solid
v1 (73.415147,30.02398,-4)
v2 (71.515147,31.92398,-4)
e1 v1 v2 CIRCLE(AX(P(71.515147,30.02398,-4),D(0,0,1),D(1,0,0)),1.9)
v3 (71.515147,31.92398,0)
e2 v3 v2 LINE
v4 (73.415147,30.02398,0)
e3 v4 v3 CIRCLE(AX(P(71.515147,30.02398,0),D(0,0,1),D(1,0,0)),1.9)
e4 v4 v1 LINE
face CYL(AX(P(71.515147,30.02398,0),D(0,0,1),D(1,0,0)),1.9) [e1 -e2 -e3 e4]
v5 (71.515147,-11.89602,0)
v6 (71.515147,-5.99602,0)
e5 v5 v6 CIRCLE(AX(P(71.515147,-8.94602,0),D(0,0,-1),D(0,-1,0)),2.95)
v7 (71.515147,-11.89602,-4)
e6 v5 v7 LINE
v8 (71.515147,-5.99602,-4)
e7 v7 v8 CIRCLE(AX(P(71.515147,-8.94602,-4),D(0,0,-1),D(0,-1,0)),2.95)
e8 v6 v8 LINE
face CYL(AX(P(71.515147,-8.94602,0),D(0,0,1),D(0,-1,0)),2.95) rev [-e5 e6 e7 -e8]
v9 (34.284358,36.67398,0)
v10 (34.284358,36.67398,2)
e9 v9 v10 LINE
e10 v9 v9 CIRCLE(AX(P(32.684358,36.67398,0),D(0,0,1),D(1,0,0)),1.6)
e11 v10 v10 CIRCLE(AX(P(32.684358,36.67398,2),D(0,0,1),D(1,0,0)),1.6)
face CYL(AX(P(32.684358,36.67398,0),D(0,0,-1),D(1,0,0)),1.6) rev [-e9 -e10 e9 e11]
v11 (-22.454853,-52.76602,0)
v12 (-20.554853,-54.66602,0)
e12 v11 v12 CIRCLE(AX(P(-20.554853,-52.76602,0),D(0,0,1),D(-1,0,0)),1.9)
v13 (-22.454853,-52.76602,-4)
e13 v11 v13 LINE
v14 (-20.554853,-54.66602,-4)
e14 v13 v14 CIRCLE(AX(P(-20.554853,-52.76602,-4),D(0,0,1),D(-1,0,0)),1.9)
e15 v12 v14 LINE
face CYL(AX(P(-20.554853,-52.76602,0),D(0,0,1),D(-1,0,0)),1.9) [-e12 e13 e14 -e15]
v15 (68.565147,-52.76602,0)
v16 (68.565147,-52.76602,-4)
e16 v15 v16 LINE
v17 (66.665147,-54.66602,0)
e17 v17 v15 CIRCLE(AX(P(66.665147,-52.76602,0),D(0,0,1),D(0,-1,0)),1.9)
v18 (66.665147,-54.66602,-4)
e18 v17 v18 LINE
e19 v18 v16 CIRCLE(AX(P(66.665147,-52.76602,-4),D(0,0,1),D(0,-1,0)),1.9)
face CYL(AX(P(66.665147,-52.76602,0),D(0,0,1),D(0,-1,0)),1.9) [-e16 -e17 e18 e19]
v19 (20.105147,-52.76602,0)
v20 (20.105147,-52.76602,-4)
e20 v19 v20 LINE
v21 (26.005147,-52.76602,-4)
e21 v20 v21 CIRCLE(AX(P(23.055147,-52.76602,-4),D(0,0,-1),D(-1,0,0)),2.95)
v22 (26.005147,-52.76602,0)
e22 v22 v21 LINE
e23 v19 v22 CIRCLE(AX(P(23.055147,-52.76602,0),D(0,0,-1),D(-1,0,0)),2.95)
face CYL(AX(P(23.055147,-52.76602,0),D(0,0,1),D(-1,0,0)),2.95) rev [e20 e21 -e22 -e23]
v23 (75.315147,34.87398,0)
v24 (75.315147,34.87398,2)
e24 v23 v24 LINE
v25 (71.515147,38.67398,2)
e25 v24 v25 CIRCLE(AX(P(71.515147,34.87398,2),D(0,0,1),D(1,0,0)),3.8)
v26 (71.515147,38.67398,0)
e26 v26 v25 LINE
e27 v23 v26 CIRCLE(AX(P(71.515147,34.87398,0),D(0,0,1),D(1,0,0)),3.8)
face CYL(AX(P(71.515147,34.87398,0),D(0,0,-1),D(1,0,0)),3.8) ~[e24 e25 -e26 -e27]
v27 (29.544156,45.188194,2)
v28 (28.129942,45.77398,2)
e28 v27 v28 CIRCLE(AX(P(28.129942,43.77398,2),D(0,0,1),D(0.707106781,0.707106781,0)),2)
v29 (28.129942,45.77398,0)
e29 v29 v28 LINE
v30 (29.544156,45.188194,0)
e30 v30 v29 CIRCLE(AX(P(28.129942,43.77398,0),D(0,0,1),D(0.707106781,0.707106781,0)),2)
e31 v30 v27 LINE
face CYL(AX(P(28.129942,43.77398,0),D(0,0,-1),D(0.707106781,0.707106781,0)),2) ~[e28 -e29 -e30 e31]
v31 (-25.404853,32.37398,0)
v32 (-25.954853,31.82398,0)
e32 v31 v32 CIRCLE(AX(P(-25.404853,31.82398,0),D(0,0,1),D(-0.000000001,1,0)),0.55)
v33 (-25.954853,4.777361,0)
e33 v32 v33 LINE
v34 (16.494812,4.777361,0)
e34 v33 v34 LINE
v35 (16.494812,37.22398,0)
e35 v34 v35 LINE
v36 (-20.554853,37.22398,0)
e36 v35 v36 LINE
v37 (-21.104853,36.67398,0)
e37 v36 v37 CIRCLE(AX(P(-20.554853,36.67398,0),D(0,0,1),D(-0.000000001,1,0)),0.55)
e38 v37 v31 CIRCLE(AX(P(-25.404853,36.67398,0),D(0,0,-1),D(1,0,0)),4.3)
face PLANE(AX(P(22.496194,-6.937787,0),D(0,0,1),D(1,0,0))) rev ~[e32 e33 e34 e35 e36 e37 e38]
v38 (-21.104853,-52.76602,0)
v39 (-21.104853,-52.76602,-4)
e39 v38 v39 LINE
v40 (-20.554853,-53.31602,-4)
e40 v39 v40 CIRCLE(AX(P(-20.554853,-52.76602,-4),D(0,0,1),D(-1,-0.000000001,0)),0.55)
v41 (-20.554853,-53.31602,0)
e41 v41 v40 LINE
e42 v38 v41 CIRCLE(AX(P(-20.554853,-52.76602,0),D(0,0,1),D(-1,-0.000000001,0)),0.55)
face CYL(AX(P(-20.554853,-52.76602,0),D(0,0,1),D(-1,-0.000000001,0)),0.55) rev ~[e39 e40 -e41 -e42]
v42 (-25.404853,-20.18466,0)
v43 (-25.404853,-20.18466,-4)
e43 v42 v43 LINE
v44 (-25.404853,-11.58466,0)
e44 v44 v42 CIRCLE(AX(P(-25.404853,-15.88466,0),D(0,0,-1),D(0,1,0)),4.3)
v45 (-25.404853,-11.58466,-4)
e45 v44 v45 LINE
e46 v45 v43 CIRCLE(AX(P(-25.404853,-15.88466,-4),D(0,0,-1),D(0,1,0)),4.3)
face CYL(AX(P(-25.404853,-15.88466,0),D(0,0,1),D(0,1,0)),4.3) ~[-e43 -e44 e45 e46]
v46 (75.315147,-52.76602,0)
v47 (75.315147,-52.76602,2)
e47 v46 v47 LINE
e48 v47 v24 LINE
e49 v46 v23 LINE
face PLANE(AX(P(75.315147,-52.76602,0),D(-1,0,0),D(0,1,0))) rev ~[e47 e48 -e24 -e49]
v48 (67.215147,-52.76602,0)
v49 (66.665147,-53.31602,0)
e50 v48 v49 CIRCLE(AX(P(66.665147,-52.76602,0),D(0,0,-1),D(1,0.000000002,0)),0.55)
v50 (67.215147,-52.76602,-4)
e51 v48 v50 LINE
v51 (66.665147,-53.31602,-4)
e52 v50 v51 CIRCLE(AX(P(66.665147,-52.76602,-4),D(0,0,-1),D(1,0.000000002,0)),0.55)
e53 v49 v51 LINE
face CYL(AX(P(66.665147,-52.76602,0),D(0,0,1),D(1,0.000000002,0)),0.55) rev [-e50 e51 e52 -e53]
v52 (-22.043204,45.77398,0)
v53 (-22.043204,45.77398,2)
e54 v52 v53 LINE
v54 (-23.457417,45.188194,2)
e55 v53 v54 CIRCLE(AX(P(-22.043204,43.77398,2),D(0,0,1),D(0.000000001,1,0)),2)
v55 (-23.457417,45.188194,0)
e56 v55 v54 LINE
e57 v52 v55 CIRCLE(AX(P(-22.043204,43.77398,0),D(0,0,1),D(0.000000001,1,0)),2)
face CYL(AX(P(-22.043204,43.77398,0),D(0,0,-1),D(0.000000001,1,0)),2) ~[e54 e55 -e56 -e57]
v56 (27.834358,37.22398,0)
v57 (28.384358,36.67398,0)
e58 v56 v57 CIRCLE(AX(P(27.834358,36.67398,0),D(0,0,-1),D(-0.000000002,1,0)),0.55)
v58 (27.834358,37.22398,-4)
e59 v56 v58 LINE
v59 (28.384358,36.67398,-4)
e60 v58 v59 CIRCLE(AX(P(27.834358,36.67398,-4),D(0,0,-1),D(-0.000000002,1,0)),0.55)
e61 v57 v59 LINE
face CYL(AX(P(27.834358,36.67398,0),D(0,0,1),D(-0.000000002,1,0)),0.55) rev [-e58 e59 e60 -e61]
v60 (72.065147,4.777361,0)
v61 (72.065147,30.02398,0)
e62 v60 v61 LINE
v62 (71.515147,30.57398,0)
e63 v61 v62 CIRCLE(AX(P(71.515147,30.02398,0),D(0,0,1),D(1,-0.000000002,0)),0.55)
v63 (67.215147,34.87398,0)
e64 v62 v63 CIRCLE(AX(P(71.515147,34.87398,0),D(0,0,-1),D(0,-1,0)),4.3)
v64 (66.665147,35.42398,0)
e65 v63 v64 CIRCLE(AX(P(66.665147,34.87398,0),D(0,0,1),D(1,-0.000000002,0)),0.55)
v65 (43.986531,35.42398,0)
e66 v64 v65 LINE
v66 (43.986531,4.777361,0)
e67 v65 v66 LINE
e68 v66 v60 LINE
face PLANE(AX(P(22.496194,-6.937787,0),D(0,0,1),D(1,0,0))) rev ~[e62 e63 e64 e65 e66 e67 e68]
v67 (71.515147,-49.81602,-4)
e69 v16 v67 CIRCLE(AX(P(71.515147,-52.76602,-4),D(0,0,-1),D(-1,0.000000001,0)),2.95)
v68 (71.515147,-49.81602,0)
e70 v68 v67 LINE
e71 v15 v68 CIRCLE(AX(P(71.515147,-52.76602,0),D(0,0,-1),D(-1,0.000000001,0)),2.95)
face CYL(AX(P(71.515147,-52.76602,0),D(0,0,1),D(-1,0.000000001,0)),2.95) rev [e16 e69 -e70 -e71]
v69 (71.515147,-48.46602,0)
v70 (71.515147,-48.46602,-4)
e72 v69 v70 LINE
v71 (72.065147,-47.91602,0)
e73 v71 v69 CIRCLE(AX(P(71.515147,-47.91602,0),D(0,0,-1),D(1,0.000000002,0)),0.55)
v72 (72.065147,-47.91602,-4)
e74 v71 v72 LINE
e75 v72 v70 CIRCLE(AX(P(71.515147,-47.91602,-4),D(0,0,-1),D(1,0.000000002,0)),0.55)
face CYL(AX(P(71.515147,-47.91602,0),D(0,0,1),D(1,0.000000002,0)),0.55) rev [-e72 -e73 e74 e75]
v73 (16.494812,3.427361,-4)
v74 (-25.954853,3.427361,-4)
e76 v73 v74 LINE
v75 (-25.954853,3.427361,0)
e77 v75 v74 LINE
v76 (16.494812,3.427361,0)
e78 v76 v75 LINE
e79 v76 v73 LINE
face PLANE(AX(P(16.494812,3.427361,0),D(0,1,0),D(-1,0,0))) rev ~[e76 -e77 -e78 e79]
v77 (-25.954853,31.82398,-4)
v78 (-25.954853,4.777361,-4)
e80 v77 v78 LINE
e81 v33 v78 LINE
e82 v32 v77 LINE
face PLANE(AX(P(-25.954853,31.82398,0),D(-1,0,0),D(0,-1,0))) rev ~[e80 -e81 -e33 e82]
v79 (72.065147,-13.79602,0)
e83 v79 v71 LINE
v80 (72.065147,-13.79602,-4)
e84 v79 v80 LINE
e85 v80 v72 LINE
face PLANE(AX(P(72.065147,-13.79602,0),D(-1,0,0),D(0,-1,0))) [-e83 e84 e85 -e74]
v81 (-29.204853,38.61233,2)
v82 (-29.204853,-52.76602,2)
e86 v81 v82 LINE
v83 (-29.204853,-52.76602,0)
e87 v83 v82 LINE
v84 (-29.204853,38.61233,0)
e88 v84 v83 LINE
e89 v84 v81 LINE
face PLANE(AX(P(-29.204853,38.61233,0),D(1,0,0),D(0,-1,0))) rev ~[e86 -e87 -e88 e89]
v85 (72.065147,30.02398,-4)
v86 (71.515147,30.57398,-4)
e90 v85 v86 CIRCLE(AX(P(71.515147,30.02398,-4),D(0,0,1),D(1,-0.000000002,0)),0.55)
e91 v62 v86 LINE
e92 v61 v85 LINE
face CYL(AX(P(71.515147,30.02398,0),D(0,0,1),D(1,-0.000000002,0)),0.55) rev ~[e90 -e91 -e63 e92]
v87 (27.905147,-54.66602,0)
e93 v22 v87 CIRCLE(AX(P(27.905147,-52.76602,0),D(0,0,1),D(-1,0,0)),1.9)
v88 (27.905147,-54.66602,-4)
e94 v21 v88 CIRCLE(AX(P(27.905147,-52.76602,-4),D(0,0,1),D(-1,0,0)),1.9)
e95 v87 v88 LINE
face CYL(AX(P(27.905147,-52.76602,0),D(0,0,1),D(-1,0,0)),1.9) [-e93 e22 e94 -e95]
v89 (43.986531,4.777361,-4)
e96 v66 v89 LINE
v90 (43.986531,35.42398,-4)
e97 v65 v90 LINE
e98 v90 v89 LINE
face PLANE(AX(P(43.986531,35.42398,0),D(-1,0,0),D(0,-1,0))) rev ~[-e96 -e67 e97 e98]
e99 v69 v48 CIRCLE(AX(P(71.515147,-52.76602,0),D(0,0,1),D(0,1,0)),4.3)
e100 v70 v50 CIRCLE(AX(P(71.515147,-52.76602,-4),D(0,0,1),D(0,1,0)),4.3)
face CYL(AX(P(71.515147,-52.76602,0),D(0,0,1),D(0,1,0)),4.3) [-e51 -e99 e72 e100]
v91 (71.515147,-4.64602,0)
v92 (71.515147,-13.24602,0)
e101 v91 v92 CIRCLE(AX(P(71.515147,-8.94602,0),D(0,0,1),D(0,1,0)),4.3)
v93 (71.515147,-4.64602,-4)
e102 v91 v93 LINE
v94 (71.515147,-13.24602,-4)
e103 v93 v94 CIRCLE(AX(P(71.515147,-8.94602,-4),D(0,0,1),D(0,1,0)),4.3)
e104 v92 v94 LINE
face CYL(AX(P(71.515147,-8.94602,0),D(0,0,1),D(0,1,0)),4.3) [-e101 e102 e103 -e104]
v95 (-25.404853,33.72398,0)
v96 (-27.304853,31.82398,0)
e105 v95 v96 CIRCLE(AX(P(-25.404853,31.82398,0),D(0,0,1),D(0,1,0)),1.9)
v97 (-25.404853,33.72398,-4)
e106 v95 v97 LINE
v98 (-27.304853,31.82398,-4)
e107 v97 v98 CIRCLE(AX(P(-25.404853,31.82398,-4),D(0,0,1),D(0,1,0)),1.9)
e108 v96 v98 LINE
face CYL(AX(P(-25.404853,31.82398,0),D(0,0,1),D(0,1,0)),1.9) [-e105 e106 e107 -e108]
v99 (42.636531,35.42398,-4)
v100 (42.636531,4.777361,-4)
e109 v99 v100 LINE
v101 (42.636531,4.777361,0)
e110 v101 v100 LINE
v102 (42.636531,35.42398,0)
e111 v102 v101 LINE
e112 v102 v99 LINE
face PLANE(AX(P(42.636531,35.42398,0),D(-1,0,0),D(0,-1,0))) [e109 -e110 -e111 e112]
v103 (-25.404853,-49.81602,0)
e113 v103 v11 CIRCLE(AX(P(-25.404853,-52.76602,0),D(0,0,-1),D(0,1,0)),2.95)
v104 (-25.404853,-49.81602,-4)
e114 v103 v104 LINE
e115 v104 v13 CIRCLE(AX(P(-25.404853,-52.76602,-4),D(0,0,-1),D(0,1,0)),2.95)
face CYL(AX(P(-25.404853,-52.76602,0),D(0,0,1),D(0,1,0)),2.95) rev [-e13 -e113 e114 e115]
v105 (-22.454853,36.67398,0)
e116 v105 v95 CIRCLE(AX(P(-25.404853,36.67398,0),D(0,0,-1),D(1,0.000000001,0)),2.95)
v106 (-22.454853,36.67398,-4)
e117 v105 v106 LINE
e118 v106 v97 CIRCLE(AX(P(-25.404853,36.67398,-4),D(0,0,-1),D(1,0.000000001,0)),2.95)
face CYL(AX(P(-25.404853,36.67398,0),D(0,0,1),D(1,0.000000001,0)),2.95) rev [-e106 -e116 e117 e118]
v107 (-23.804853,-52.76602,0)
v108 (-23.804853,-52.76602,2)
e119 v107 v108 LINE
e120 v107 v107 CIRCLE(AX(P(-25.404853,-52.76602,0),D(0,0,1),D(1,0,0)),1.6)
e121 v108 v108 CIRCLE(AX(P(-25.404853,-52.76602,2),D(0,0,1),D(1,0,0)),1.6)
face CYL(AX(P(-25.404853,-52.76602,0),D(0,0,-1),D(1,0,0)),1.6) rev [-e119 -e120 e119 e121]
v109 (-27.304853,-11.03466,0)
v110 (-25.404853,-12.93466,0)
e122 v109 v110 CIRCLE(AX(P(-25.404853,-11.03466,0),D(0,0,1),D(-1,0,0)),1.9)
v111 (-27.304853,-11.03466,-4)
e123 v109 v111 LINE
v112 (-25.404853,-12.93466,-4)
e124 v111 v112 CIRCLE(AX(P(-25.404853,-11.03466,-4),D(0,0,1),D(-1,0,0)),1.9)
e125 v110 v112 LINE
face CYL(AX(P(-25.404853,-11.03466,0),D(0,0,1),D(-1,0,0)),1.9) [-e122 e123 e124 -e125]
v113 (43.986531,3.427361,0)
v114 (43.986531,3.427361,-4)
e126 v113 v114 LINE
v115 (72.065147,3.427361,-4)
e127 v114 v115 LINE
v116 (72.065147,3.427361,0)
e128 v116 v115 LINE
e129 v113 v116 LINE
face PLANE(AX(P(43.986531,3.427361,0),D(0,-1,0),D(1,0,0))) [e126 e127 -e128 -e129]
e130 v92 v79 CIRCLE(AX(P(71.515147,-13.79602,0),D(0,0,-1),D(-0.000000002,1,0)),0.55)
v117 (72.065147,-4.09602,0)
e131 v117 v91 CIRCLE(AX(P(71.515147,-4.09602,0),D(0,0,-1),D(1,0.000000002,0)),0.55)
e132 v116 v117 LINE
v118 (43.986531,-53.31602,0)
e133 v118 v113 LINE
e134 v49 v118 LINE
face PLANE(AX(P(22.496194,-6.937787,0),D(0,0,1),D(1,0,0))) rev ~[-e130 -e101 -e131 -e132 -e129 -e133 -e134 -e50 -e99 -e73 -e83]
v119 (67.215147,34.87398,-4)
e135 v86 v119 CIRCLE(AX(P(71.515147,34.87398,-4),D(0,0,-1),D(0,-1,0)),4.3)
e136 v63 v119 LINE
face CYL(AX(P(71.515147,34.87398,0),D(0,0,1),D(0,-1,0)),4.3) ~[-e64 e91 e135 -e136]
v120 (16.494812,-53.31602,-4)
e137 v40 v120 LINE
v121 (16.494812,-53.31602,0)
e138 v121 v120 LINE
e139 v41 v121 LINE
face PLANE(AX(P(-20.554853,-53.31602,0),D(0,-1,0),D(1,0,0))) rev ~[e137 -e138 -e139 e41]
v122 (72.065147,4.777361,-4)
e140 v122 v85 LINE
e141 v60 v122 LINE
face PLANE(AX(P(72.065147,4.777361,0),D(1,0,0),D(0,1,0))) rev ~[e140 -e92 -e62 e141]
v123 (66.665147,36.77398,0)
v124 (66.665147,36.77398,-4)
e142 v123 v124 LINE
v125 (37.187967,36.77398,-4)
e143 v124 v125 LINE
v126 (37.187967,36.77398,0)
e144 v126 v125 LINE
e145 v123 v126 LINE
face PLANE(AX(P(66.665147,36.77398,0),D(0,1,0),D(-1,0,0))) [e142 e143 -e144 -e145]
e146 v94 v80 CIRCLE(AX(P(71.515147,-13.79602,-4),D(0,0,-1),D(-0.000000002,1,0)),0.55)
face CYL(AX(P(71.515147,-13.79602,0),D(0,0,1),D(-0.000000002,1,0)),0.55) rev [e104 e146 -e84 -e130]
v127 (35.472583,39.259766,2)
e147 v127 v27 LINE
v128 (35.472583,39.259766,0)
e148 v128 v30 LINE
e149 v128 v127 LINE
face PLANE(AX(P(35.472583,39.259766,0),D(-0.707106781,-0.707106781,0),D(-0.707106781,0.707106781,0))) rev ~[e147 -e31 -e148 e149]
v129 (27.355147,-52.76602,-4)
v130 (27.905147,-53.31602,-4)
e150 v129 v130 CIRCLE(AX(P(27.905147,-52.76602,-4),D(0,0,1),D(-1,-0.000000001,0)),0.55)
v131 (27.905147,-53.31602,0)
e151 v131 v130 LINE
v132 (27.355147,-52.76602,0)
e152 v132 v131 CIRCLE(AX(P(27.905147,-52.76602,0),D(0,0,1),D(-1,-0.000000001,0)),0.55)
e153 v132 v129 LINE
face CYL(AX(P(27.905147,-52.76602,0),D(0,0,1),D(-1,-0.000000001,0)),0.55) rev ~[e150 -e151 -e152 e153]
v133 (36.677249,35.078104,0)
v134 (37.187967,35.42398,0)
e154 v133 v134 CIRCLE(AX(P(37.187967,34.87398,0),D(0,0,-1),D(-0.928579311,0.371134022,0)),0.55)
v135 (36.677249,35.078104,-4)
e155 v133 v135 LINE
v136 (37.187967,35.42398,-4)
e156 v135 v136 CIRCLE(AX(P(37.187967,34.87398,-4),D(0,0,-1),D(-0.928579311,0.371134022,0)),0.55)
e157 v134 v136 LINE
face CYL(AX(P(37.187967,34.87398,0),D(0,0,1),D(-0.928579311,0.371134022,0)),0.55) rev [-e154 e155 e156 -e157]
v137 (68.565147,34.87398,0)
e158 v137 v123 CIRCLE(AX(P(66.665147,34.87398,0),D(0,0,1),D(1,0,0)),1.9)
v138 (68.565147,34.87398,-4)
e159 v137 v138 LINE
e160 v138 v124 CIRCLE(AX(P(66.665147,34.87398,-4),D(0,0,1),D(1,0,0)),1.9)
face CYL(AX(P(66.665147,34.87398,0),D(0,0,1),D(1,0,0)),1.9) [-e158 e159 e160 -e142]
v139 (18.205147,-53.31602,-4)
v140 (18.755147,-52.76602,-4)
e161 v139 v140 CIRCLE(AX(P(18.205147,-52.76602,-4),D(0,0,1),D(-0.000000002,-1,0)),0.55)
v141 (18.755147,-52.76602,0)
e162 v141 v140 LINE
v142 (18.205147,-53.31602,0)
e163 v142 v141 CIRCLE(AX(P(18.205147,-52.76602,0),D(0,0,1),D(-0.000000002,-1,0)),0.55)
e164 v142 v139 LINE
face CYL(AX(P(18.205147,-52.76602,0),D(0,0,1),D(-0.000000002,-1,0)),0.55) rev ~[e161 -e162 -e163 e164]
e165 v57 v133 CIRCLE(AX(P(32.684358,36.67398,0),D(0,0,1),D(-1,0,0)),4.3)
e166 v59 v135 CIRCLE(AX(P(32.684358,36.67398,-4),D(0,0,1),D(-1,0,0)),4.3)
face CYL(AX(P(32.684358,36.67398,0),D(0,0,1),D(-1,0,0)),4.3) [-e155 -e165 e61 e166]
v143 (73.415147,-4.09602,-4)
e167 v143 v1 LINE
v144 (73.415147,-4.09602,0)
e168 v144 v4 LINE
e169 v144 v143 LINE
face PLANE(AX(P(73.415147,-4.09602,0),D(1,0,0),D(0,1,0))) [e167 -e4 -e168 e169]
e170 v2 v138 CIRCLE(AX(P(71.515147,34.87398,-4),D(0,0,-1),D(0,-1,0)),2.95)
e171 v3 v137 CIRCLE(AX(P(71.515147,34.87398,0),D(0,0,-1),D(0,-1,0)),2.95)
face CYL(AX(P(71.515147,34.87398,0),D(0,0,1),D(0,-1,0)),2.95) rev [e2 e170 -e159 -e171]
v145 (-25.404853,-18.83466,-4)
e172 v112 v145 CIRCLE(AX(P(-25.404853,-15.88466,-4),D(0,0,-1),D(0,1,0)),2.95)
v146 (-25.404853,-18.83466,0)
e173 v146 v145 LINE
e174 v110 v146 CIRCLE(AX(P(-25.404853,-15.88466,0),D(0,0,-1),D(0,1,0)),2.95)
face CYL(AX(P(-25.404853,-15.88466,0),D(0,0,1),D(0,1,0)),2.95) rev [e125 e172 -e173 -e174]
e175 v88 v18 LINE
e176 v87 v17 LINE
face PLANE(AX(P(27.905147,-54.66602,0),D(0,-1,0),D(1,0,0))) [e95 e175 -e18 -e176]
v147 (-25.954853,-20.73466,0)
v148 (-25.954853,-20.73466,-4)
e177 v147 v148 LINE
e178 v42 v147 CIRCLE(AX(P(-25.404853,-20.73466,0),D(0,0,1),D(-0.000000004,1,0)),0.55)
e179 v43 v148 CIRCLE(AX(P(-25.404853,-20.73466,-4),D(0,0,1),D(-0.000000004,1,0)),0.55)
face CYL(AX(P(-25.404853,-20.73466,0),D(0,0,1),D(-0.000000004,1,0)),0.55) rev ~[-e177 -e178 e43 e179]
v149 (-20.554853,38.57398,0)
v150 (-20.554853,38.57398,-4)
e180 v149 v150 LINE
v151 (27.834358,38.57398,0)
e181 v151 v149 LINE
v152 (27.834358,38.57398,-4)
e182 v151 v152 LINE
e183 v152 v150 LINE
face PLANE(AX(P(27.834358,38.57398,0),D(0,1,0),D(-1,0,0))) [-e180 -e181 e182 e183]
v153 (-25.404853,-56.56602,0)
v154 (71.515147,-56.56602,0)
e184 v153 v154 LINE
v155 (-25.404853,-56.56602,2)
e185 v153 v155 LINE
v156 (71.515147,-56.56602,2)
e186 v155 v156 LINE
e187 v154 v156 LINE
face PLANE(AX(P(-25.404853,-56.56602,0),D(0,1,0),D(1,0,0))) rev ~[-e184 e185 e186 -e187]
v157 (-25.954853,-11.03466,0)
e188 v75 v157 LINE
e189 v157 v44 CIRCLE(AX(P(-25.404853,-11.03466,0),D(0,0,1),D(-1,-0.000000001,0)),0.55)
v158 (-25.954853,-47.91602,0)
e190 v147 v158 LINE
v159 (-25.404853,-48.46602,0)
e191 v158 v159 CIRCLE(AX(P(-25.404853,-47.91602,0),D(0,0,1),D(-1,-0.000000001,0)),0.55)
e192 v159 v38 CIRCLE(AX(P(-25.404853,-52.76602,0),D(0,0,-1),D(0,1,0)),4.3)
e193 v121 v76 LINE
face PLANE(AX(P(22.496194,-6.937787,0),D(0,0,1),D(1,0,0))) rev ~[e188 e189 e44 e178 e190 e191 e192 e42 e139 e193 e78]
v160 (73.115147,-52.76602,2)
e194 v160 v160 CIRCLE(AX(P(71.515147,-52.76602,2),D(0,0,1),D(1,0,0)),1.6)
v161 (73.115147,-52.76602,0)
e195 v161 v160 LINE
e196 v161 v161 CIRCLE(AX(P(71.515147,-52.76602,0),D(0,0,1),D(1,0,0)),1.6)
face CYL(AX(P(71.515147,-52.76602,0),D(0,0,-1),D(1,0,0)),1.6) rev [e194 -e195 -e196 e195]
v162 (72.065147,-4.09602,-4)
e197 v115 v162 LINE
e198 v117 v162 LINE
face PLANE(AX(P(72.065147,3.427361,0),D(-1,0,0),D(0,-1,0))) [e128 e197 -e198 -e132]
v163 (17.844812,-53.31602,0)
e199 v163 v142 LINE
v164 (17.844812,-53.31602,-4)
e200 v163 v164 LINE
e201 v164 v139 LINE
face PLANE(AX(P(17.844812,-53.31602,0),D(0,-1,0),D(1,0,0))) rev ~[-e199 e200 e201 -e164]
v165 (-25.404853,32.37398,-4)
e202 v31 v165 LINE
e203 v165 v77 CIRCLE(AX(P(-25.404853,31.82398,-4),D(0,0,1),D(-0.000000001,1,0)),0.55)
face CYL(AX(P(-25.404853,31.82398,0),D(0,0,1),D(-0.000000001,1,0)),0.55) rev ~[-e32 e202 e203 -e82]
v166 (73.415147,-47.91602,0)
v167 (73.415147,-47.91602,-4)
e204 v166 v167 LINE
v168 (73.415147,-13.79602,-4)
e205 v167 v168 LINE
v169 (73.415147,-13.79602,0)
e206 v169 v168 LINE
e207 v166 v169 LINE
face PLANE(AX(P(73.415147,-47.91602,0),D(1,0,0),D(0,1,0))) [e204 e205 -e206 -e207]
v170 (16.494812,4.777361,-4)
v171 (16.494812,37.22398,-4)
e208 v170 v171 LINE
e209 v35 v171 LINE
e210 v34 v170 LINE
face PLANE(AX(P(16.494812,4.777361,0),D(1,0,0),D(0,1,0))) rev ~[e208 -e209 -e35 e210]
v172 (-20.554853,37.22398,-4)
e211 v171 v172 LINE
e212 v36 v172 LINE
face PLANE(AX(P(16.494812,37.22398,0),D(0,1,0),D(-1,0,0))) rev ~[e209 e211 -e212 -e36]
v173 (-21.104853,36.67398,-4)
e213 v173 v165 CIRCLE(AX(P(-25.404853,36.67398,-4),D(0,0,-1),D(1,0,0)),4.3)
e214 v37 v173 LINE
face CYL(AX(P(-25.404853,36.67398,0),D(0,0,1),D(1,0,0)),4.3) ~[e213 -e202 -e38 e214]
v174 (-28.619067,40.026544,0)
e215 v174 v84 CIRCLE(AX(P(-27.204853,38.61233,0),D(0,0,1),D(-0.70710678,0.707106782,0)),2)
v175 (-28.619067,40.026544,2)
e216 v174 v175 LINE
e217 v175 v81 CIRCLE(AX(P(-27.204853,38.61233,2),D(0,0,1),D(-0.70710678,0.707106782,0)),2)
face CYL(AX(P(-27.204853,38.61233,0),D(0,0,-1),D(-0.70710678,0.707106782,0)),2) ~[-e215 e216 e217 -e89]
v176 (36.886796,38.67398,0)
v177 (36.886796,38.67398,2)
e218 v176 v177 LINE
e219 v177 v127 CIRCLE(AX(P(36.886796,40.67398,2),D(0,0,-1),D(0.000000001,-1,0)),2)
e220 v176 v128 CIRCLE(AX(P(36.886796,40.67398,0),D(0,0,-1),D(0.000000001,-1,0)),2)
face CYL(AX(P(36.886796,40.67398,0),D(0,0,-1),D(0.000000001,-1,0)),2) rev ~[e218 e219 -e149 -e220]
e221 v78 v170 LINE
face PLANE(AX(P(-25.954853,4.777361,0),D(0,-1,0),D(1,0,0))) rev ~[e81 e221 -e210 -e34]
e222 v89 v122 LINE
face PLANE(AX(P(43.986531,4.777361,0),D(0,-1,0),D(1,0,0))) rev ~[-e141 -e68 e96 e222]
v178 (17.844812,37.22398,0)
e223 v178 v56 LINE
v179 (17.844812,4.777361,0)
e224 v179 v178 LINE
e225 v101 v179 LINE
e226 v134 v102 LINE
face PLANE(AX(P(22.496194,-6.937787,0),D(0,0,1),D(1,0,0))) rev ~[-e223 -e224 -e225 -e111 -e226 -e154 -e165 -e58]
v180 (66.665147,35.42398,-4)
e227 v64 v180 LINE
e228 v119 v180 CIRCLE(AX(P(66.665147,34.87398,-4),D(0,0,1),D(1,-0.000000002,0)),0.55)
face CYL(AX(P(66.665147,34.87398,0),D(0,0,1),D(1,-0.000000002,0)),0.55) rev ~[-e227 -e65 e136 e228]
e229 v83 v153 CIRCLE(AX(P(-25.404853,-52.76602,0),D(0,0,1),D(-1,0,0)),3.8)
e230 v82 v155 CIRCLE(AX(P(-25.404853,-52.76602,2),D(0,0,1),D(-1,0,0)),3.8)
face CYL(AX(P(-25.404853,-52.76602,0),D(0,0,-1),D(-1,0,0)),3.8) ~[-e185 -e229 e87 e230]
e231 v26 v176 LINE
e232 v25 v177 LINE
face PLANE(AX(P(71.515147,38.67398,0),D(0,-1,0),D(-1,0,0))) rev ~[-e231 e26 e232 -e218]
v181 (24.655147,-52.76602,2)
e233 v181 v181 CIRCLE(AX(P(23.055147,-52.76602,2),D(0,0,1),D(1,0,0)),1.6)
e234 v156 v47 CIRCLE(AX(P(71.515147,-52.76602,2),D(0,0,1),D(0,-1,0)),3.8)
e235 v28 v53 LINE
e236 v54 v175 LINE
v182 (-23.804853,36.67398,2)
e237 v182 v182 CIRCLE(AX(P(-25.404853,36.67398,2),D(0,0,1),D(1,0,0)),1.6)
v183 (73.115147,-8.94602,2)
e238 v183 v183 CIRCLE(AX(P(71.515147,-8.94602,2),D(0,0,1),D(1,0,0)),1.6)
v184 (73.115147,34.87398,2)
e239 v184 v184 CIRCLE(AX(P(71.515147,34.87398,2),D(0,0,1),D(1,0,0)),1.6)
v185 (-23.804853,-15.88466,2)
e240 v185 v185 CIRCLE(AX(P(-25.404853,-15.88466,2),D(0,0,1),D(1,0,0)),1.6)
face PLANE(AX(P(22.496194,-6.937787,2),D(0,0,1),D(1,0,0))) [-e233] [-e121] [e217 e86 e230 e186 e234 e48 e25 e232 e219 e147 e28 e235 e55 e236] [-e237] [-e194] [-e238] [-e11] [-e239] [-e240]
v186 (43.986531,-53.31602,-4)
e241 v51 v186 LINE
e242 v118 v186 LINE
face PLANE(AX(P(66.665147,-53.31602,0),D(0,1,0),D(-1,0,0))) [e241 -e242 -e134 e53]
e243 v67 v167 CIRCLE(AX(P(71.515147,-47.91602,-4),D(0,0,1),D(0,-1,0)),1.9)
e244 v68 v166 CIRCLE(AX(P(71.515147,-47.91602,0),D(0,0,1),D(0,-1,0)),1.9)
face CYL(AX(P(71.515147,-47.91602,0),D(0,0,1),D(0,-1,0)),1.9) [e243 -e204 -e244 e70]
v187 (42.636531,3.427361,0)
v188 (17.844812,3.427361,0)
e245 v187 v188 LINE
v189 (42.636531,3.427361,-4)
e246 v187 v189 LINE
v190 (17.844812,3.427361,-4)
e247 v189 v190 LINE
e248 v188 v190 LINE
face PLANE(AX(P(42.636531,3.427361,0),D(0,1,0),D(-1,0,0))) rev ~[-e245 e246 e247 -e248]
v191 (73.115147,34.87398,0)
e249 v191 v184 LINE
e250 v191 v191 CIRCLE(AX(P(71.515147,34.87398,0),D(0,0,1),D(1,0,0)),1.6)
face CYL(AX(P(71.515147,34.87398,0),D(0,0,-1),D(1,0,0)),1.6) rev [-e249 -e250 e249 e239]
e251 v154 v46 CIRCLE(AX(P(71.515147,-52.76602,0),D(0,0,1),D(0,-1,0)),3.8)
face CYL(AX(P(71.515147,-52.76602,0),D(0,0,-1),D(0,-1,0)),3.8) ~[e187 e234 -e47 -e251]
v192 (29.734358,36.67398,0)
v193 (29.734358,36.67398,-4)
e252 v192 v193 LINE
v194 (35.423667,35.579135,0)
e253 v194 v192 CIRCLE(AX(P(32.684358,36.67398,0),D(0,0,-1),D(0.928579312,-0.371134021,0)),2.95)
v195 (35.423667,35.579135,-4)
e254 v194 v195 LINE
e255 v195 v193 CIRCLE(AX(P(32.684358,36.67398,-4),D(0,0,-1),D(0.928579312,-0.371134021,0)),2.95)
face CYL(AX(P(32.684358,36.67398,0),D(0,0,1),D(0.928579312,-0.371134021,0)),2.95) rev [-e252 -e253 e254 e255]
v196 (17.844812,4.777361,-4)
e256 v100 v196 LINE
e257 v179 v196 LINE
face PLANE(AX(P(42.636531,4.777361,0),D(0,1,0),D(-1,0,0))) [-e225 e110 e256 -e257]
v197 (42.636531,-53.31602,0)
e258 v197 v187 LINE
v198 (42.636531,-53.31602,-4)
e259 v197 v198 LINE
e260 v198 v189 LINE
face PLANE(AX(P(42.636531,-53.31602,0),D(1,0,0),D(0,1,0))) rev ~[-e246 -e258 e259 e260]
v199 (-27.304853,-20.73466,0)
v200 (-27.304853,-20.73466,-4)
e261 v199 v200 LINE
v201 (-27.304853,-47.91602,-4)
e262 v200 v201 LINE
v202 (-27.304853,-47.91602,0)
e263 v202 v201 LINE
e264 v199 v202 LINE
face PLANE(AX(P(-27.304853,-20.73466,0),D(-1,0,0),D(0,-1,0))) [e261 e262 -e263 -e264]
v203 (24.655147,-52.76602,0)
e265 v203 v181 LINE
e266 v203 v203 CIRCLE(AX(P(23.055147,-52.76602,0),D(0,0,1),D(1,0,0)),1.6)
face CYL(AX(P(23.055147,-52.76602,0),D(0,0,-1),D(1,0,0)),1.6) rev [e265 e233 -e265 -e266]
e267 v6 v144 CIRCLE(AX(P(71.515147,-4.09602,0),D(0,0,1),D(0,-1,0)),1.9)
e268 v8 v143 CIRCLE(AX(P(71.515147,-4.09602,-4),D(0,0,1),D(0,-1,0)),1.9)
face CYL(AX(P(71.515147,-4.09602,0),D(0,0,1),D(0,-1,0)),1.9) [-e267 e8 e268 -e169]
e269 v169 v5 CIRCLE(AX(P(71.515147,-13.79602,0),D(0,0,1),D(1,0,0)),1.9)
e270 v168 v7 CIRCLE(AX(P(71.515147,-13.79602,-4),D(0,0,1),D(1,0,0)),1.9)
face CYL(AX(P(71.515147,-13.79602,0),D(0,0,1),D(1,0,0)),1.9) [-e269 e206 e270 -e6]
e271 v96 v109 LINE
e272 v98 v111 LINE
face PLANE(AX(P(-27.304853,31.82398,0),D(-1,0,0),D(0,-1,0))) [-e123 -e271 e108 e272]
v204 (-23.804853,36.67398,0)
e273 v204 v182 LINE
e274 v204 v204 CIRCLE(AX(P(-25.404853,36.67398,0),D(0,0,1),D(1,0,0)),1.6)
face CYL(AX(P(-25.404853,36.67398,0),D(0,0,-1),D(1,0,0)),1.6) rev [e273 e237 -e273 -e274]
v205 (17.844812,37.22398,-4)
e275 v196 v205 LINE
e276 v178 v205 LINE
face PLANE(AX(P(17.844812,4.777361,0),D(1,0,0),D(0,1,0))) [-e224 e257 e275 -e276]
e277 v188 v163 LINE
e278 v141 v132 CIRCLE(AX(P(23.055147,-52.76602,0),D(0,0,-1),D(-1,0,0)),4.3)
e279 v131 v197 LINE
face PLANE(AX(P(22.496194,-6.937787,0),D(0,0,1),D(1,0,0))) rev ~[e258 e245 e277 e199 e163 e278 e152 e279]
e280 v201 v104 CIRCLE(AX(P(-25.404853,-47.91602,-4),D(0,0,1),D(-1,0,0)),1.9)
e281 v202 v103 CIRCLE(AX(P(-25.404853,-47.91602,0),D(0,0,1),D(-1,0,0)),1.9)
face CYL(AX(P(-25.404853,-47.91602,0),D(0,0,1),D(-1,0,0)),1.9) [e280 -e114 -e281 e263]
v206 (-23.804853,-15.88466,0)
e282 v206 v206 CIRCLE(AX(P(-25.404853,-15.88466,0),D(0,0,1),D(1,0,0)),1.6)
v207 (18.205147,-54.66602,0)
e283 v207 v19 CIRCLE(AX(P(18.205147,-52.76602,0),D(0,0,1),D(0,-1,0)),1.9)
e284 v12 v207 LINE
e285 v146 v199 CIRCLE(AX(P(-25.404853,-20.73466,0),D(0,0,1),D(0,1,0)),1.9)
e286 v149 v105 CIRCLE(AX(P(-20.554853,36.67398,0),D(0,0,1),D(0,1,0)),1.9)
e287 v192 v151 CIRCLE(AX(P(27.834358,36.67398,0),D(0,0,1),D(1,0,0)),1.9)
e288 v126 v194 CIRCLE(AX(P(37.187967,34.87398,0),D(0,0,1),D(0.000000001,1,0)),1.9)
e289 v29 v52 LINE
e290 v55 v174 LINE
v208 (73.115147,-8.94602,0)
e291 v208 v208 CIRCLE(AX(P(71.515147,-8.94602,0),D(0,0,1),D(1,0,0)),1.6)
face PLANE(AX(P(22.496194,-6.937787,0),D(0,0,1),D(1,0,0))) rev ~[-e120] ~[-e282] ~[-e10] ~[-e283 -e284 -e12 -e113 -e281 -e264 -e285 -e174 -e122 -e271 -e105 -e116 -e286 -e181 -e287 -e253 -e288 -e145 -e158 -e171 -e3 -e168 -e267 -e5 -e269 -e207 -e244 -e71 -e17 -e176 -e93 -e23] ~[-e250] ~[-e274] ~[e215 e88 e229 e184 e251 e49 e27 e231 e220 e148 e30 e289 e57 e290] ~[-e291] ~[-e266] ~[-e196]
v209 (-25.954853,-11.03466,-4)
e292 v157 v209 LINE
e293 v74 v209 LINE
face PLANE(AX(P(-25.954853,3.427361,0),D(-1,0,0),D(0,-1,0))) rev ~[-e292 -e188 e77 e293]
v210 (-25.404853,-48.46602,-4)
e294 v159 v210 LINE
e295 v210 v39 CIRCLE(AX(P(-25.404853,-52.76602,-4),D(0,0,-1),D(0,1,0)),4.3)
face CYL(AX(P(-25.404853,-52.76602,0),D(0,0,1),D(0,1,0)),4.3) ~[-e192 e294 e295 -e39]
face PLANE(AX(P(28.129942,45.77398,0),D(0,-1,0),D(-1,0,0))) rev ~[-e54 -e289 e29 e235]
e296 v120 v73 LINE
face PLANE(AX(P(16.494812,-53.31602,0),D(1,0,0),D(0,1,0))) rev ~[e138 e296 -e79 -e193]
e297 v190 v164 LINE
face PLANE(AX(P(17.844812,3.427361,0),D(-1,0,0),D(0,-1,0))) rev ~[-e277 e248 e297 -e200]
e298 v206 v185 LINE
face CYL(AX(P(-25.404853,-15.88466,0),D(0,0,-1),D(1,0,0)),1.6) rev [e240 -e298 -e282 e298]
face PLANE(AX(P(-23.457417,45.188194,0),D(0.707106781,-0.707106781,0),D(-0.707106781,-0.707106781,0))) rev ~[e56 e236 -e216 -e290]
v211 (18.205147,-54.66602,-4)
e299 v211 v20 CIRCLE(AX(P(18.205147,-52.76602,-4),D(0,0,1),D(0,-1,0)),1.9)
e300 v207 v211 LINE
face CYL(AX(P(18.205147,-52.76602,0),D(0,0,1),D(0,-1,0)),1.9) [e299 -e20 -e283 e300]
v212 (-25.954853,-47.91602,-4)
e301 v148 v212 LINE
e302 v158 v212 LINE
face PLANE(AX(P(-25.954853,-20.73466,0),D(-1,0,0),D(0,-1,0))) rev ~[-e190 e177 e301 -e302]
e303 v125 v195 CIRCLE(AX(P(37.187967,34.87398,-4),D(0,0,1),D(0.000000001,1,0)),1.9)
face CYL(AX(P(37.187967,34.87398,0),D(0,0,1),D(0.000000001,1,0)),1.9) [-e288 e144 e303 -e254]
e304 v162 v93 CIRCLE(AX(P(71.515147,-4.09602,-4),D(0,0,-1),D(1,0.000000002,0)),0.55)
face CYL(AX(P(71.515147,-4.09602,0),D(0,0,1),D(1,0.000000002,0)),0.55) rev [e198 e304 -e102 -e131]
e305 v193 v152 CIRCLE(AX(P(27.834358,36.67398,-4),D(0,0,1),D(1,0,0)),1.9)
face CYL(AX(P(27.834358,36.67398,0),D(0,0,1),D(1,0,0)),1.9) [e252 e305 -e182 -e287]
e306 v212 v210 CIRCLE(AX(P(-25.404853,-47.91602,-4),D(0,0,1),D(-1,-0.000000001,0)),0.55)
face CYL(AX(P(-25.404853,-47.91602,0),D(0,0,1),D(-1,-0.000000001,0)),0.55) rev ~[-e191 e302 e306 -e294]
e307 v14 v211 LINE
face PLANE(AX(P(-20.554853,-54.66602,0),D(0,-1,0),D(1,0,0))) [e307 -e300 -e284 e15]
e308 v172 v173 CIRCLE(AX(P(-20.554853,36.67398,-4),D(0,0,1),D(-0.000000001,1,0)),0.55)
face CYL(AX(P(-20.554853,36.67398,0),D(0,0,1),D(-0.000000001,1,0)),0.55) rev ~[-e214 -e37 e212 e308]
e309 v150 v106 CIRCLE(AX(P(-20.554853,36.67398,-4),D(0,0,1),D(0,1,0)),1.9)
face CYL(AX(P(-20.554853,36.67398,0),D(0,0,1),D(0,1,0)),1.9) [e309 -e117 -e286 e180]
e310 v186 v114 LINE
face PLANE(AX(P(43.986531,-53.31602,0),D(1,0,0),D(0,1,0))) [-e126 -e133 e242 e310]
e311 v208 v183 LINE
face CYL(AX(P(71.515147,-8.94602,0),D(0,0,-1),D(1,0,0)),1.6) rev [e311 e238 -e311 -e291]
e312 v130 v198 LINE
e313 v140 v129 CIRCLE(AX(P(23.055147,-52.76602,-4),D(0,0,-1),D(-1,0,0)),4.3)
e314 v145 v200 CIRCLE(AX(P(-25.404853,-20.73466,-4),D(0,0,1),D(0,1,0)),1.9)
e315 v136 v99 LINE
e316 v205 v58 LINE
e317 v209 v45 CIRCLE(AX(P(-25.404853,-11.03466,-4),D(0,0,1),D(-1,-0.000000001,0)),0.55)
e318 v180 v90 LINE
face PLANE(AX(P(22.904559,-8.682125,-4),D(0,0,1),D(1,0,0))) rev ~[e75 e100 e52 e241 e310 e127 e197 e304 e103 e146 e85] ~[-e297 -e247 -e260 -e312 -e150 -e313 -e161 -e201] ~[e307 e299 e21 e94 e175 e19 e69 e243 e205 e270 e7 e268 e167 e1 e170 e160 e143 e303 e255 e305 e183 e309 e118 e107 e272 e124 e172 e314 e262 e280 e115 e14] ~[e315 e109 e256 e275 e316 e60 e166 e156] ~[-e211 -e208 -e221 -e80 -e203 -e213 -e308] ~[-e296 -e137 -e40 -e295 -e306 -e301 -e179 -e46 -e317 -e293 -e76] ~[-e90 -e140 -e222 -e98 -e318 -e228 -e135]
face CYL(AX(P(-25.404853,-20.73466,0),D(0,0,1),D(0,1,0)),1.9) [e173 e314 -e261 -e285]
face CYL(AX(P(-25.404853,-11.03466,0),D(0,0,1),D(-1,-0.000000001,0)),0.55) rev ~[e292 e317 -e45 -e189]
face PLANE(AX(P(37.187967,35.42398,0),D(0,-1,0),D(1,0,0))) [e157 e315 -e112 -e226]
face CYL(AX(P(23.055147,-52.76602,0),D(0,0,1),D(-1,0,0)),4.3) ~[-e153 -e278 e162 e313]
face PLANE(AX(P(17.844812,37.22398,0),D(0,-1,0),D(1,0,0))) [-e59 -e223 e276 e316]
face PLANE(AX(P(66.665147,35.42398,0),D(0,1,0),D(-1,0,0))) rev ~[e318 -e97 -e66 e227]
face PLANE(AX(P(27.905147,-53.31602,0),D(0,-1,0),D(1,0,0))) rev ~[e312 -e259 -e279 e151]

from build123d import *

# Parameters (mm, degrees)
BOSS_EXTRUDE1_DEPTH = 4
SKETCH1_3_R         = 1.6
BOSS_EXTRUDE2_DEPTH = 2


with BuildPart() as part:
    # Sketch1 → Boss-Extrude1 (new body)
    with BuildSketch(Plane.XY):
        with BuildLine():
            Line((66.665147012, 36.773979945), (37.187967483, 36.773979945))
            ThreePointArc((37.187967483, 36.773979945), (36.122555312, 36.447160452), (35.42366679, 35.579134584))
            ThreePointArc((35.42366679, 35.579134584), (32.126890988, 33.777131531), (29.734357819, 36.673979945))
            ThreePointArc((29.734357819, 36.673979945), (29.177860704, 38.017482829), (27.834357819, 38.573979945))
            Line((27.834357819, 38.573979945), (-20.554852988, 38.573979945))
            ThreePointArc((-20.554852988, 38.573979945), (-21.898355872, 38.017482829), (-22.454852988, 36.673979945))
            ThreePointArc((-22.454852988, 36.673979945), (-23.318887983, 34.58801494), (-25.404852988, 33.723979945))
            ThreePointArc((-25.404852988, 33.723979945), (-26.748355872, 33.167482829), (-27.304852988, 31.823979945))
            Line((-27.304852988, 31.823979945), (-27.304852988, -11.034660039))
            ThreePointArc((-27.304852988, -11.034660039), (-26.748355872, -12.378162923), (-25.404852988, -12.934660039))
            ThreePointArc((-25.404852988, -12.934660039), (-22.454852988, -15.884660039), (-25.404852988, -18.834660039))
            ThreePointArc((-25.404852988, -18.834660039), (-26.748355872, -19.391157155), (-27.304852988, -20.734660039))
            Line((-27.304852988, -20.734660039), (-27.304852988, -47.916020055))
            ThreePointArc((-27.304852988, -47.916020055), (-26.748355872, -49.259522939), (-25.404852988, -49.816020055))
            ThreePointArc((-25.404852988, -49.816020055), (-23.318887983, -50.680055051), (-22.454852988, -52.766020055))
            ThreePointArc((-22.454852988, -52.766020055), (-21.898355872, -54.109522939), (-20.554852988, -54.666020055))
            Line((-20.554852988, -54.666020055), (18.205147012, -54.666020055))
            ThreePointArc((18.205147012, -54.666020055), (19.548649897, -54.109522939), (20.105147012, -52.766020055))
            ThreePointArc((20.105147012, -52.766020055), (23.055147012, -49.816020055), (26.005147012, -52.766020055))
            ThreePointArc((26.005147012, -52.766020055), (26.561644128, -54.109522939), (27.905147012, -54.666020055))
            Line((27.905147012, -54.666020055), (66.665147012, -54.666020055))
            ThreePointArc((66.665147012, -54.666020055), (68.008649897, -54.109522939), (68.565147012, -52.766020055))
            ThreePointArc((68.565147012, -52.766020055), (69.429182008, -50.680055051), (71.515147012, -49.816020055))
            ThreePointArc((71.515147012, -49.816020055), (72.858649897, -49.259522939), (73.415147012, -47.916020055))
            Line((73.415147012, -47.916020055), (73.415147012, -13.796020055))
            ThreePointArc((73.415147012, -13.796020055), (72.858649897, -12.452517171), (71.515147012, -11.896020055))
            ThreePointArc((71.515147012, -11.896020055), (68.565147012, -8.946020055), (71.515147012, -5.996020055))
            ThreePointArc((71.515147012, -5.996020055), (72.858649897, -5.439522939), (73.415147012, -4.096020055))
            Line((73.415147012, -4.096020055), (73.415147012, 30.023979945))
            ThreePointArc((73.415147012, 30.023979945), (72.858649897, 31.367482829), (71.515147012, 31.923979945))
            ThreePointArc((71.515147012, 31.923979945), (69.429182008, 32.78801494), (68.565147012, 34.873979945))
            ThreePointArc((68.565147012, 34.873979945), (68.008649897, 36.217482829), (66.665147012, 36.773979945))
        make_face()
        with BuildLine():
            Line((66.665147012, 35.423979945), (43.986531464, 35.423979945))
            Line((43.986531464, 35.423979945), (43.986531464, 4.777360506))
            Line((43.986531464, 4.777360506), (72.065147012, 4.777360506))
            Line((72.065147012, 4.777360506), (72.065147012, 30.023979945))
            ThreePointArc((72.065147012, 30.023979945), (71.904055742, 30.412888675), (71.515147012, 30.573979945))
            ThreePointArc((71.515147012, 30.573979945), (68.474587853, 31.833420786), (67.215147012, 34.873979945))
            ThreePointArc((67.215147012, 34.873979945), (67.054055742, 35.262888675), (66.665147012, 35.423979945))
        make_face(mode=Mode.SUBTRACT)
        with BuildLine():
            Line((72.065147012, -13.796020055), (72.065147012, -47.916020055))
            ThreePointArc((72.065147012, -47.916020055), (71.904055742, -48.304928785), (71.515147012, -48.466020055))
            ThreePointArc((71.515147012, -48.466020055), (68.474587853, -49.725460896), (67.215147012, -52.766020055))
            ThreePointArc((67.215147012, -52.766020055), (67.054055742, -53.154928785), (66.665147012, -53.316020055))
            Line((66.665147012, -53.316020055), (43.986531464, -53.316020055))
            Line((43.986531464, -53.316020055), (43.986531464, 3.427360506))
            Line((43.986531464, 3.427360506), (72.065147012, 3.427360506))
            Line((72.065147012, 3.427360506), (72.065147012, -4.096020055))
            ThreePointArc((72.065147012, -4.096020055), (71.904055742, -4.484928785), (71.515147012, -4.646020055))
            ThreePointArc((71.515147012, -4.646020055), (67.215147012, -8.946020055), (71.515147012, -13.246020055))
            ThreePointArc((71.515147012, -13.246020055), (71.904055742, -13.407111325), (72.065147012, -13.796020055))
        make_face(mode=Mode.SUBTRACT)
        with BuildLine():
            Line((27.905147012, -53.316020055), (42.636531464, -53.316020055))
            Line((42.636531464, -53.316020055), (42.636531464, 3.427360506))
            Line((42.636531464, 3.427360506), (17.844811896, 3.427360506))
            Line((17.844811896, 3.427360506), (17.844811896, -53.316020055))
            Line((17.844811896, -53.316020055), (18.205147012, -53.316020055))
            ThreePointArc((18.205147012, -53.316020055), (18.594055742, -53.154928785), (18.755147012, -52.766020055))
            ThreePointArc((18.755147012, -52.766020055), (23.055147012, -48.466020055), (27.355147012, -52.766020055))
            ThreePointArc((27.355147012, -52.766020055), (27.516238283, -53.154928785), (27.905147012, -53.316020055))
        make_face(mode=Mode.SUBTRACT)
        with BuildLine():
            Line((-20.554852988, -53.316020055), (16.494811896, -53.316020055))
            Line((16.494811896, -53.316020055), (16.494811896, 3.427360506))
            Line((16.494811896, 3.427360506), (-25.954852988, 3.427360506))
            Line((-25.954852988, 3.427360506), (-25.954852988, -11.034660039))
            ThreePointArc((-25.954852988, -11.034660039), (-25.793761717, -11.423568769), (-25.404852988, -11.584660039))
            ThreePointArc((-25.404852988, -11.584660039), (-21.104852988, -15.884660039), (-25.404852988, -20.184660039))
            ThreePointArc((-25.404852988, -20.184660039), (-25.793761717, -20.34575131), (-25.954852988, -20.734660039))
            Line((-25.954852988, -20.734660039), (-25.954852988, -47.916020055))
            ThreePointArc((-25.954852988, -47.916020055), (-25.793761717, -48.304928785), (-25.404852988, -48.466020055))
            ThreePointArc((-25.404852988, -48.466020055), (-22.364293829, -49.725460896), (-21.104852988, -52.766020055))
            ThreePointArc((-21.104852988, -52.766020055), (-20.943761717, -53.154928785), (-20.554852988, -53.316020055))
        make_face(mode=Mode.SUBTRACT)
        with BuildLine():
            Line((-25.954852988, 31.823979945), (-25.954852988, 4.777360506))
            Line((-25.954852988, 4.777360506), (16.494811896, 4.777360506))
            Line((16.494811896, 4.777360506), (16.494811896, 37.223979945))
            Line((16.494811896, 37.223979945), (-20.554852988, 37.223979945))
            ThreePointArc((-20.554852988, 37.223979945), (-20.943761717, 37.062888675), (-21.104852988, 36.673979945))
            ThreePointArc((-21.104852988, 36.673979945), (-22.364293829, 33.633420786), (-25.404852988, 32.373979945))
            ThreePointArc((-25.404852988, 32.373979945), (-25.793761717, 32.212888675), (-25.954852988, 31.823979945))
        make_face(mode=Mode.SUBTRACT)
        with BuildLine():
            Line((42.636531464, 35.423979945), (42.636531464, 4.777360506))
            Line((42.636531464, 4.777360506), (17.844811896, 4.777360506))
            Line((17.844811896, 4.777360506), (17.844811896, 37.223979945))
            Line((17.844811896, 37.223979945), (27.834357819, 37.223979945))
            ThreePointArc((27.834357819, 37.223979945), (28.223266549, 37.062888675), (28.384357819, 36.673979945))
            ThreePointArc((28.384357819, 36.673979945), (31.871779048, 32.451455139), (36.677248861, 35.078103656))
            ThreePointArc((36.677248861, 35.078103656), (36.879558697, 35.329374302), (37.187967483, 35.423979945))
            Line((37.187967483, 35.423979945), (42.636531464, 35.423979945))
        make_face(mode=Mode.SUBTRACT)
    extrude(amount=-BOSS_EXTRUDE1_DEPTH)

    # Sketch1<3> → Boss-Extrude2 (add)
    with BuildSketch(Plane.XY):
        with BuildLine():
            Line((28.129942232, 45.773979945), (-22.043203519, 45.773979945))
            ThreePointArc((-22.043203519, 45.773979945), (-22.808570384, 45.62173901), (-23.457417081, 45.188193507))
            Line((-23.457417081, 45.188193507), (-28.61906655, 40.026544038))
            ThreePointArc((-28.61906655, 40.026544038), (-29.052612053, 39.377697341), (-29.204852988, 38.612330476))
            Line((-29.204852988, 38.612330476), (-29.204852988, -52.766020055))
            ThreePointArc((-29.204852988, -52.766020055), (-28.091858756, -55.453025824), (-25.404852988, -56.566020055))
            Line((-25.404852988, -56.566020055), (71.515147012, -56.566020055))
            ThreePointArc((71.515147012, -56.566020055), (74.202152781, -55.453025824), (75.315147012, -52.766020055))
            Line((75.315147012, -52.766020055), (75.315147012, 34.873979945))
            ThreePointArc((75.315147012, 34.873979945), (74.202152781, 37.560985714), (71.515147012, 38.673979945))
            Line((71.515147012, 38.673979945), (36.886796481, 38.673979945))
            ThreePointArc((36.886796481, 38.673979945), (36.121429616, 38.82622088), (35.472582919, 39.259766383))
            Line((35.472582919, 39.259766383), (29.544155794, 45.188193507))
            ThreePointArc((29.544155794, 45.188193507), (28.895309096, 45.62173901), (28.129942232, 45.773979945))
        make_face()
        with Locations((-25.404852988, 36.673979945)):
            Circle(SKETCH1_3_R, mode=Mode.SUBTRACT)
        with Locations((-25.404852988, -15.884660039)):
            Circle(SKETCH1_3_R, mode=Mode.SUBTRACT)
        with Locations((-25.404852988, -52.766020055)):
            Circle(SKETCH1_3_R, mode=Mode.SUBTRACT)
        with Locations((23.055147012, -52.766020055)):
            Circle(SKETCH1_3_R, mode=Mode.SUBTRACT)
        with Locations((32.684357819, 36.673979945)):
            Circle(SKETCH1_3_R, mode=Mode.SUBTRACT)
        with Locations((71.515147012, 34.873979945)):
            Circle(SKETCH1_3_R, mode=Mode.SUBTRACT)
        with Locations((71.515147012, -8.946020055)):
            Circle(SKETCH1_3_R, mode=Mode.SUBTRACT)
        with Locations((71.515147012, -52.766020055)):
            Circle(SKETCH1_3_R, mode=Mode.SUBTRACT)
    extrude(amount=BOSS_EXTRUDE2_DEPTH)


solid = part.part
